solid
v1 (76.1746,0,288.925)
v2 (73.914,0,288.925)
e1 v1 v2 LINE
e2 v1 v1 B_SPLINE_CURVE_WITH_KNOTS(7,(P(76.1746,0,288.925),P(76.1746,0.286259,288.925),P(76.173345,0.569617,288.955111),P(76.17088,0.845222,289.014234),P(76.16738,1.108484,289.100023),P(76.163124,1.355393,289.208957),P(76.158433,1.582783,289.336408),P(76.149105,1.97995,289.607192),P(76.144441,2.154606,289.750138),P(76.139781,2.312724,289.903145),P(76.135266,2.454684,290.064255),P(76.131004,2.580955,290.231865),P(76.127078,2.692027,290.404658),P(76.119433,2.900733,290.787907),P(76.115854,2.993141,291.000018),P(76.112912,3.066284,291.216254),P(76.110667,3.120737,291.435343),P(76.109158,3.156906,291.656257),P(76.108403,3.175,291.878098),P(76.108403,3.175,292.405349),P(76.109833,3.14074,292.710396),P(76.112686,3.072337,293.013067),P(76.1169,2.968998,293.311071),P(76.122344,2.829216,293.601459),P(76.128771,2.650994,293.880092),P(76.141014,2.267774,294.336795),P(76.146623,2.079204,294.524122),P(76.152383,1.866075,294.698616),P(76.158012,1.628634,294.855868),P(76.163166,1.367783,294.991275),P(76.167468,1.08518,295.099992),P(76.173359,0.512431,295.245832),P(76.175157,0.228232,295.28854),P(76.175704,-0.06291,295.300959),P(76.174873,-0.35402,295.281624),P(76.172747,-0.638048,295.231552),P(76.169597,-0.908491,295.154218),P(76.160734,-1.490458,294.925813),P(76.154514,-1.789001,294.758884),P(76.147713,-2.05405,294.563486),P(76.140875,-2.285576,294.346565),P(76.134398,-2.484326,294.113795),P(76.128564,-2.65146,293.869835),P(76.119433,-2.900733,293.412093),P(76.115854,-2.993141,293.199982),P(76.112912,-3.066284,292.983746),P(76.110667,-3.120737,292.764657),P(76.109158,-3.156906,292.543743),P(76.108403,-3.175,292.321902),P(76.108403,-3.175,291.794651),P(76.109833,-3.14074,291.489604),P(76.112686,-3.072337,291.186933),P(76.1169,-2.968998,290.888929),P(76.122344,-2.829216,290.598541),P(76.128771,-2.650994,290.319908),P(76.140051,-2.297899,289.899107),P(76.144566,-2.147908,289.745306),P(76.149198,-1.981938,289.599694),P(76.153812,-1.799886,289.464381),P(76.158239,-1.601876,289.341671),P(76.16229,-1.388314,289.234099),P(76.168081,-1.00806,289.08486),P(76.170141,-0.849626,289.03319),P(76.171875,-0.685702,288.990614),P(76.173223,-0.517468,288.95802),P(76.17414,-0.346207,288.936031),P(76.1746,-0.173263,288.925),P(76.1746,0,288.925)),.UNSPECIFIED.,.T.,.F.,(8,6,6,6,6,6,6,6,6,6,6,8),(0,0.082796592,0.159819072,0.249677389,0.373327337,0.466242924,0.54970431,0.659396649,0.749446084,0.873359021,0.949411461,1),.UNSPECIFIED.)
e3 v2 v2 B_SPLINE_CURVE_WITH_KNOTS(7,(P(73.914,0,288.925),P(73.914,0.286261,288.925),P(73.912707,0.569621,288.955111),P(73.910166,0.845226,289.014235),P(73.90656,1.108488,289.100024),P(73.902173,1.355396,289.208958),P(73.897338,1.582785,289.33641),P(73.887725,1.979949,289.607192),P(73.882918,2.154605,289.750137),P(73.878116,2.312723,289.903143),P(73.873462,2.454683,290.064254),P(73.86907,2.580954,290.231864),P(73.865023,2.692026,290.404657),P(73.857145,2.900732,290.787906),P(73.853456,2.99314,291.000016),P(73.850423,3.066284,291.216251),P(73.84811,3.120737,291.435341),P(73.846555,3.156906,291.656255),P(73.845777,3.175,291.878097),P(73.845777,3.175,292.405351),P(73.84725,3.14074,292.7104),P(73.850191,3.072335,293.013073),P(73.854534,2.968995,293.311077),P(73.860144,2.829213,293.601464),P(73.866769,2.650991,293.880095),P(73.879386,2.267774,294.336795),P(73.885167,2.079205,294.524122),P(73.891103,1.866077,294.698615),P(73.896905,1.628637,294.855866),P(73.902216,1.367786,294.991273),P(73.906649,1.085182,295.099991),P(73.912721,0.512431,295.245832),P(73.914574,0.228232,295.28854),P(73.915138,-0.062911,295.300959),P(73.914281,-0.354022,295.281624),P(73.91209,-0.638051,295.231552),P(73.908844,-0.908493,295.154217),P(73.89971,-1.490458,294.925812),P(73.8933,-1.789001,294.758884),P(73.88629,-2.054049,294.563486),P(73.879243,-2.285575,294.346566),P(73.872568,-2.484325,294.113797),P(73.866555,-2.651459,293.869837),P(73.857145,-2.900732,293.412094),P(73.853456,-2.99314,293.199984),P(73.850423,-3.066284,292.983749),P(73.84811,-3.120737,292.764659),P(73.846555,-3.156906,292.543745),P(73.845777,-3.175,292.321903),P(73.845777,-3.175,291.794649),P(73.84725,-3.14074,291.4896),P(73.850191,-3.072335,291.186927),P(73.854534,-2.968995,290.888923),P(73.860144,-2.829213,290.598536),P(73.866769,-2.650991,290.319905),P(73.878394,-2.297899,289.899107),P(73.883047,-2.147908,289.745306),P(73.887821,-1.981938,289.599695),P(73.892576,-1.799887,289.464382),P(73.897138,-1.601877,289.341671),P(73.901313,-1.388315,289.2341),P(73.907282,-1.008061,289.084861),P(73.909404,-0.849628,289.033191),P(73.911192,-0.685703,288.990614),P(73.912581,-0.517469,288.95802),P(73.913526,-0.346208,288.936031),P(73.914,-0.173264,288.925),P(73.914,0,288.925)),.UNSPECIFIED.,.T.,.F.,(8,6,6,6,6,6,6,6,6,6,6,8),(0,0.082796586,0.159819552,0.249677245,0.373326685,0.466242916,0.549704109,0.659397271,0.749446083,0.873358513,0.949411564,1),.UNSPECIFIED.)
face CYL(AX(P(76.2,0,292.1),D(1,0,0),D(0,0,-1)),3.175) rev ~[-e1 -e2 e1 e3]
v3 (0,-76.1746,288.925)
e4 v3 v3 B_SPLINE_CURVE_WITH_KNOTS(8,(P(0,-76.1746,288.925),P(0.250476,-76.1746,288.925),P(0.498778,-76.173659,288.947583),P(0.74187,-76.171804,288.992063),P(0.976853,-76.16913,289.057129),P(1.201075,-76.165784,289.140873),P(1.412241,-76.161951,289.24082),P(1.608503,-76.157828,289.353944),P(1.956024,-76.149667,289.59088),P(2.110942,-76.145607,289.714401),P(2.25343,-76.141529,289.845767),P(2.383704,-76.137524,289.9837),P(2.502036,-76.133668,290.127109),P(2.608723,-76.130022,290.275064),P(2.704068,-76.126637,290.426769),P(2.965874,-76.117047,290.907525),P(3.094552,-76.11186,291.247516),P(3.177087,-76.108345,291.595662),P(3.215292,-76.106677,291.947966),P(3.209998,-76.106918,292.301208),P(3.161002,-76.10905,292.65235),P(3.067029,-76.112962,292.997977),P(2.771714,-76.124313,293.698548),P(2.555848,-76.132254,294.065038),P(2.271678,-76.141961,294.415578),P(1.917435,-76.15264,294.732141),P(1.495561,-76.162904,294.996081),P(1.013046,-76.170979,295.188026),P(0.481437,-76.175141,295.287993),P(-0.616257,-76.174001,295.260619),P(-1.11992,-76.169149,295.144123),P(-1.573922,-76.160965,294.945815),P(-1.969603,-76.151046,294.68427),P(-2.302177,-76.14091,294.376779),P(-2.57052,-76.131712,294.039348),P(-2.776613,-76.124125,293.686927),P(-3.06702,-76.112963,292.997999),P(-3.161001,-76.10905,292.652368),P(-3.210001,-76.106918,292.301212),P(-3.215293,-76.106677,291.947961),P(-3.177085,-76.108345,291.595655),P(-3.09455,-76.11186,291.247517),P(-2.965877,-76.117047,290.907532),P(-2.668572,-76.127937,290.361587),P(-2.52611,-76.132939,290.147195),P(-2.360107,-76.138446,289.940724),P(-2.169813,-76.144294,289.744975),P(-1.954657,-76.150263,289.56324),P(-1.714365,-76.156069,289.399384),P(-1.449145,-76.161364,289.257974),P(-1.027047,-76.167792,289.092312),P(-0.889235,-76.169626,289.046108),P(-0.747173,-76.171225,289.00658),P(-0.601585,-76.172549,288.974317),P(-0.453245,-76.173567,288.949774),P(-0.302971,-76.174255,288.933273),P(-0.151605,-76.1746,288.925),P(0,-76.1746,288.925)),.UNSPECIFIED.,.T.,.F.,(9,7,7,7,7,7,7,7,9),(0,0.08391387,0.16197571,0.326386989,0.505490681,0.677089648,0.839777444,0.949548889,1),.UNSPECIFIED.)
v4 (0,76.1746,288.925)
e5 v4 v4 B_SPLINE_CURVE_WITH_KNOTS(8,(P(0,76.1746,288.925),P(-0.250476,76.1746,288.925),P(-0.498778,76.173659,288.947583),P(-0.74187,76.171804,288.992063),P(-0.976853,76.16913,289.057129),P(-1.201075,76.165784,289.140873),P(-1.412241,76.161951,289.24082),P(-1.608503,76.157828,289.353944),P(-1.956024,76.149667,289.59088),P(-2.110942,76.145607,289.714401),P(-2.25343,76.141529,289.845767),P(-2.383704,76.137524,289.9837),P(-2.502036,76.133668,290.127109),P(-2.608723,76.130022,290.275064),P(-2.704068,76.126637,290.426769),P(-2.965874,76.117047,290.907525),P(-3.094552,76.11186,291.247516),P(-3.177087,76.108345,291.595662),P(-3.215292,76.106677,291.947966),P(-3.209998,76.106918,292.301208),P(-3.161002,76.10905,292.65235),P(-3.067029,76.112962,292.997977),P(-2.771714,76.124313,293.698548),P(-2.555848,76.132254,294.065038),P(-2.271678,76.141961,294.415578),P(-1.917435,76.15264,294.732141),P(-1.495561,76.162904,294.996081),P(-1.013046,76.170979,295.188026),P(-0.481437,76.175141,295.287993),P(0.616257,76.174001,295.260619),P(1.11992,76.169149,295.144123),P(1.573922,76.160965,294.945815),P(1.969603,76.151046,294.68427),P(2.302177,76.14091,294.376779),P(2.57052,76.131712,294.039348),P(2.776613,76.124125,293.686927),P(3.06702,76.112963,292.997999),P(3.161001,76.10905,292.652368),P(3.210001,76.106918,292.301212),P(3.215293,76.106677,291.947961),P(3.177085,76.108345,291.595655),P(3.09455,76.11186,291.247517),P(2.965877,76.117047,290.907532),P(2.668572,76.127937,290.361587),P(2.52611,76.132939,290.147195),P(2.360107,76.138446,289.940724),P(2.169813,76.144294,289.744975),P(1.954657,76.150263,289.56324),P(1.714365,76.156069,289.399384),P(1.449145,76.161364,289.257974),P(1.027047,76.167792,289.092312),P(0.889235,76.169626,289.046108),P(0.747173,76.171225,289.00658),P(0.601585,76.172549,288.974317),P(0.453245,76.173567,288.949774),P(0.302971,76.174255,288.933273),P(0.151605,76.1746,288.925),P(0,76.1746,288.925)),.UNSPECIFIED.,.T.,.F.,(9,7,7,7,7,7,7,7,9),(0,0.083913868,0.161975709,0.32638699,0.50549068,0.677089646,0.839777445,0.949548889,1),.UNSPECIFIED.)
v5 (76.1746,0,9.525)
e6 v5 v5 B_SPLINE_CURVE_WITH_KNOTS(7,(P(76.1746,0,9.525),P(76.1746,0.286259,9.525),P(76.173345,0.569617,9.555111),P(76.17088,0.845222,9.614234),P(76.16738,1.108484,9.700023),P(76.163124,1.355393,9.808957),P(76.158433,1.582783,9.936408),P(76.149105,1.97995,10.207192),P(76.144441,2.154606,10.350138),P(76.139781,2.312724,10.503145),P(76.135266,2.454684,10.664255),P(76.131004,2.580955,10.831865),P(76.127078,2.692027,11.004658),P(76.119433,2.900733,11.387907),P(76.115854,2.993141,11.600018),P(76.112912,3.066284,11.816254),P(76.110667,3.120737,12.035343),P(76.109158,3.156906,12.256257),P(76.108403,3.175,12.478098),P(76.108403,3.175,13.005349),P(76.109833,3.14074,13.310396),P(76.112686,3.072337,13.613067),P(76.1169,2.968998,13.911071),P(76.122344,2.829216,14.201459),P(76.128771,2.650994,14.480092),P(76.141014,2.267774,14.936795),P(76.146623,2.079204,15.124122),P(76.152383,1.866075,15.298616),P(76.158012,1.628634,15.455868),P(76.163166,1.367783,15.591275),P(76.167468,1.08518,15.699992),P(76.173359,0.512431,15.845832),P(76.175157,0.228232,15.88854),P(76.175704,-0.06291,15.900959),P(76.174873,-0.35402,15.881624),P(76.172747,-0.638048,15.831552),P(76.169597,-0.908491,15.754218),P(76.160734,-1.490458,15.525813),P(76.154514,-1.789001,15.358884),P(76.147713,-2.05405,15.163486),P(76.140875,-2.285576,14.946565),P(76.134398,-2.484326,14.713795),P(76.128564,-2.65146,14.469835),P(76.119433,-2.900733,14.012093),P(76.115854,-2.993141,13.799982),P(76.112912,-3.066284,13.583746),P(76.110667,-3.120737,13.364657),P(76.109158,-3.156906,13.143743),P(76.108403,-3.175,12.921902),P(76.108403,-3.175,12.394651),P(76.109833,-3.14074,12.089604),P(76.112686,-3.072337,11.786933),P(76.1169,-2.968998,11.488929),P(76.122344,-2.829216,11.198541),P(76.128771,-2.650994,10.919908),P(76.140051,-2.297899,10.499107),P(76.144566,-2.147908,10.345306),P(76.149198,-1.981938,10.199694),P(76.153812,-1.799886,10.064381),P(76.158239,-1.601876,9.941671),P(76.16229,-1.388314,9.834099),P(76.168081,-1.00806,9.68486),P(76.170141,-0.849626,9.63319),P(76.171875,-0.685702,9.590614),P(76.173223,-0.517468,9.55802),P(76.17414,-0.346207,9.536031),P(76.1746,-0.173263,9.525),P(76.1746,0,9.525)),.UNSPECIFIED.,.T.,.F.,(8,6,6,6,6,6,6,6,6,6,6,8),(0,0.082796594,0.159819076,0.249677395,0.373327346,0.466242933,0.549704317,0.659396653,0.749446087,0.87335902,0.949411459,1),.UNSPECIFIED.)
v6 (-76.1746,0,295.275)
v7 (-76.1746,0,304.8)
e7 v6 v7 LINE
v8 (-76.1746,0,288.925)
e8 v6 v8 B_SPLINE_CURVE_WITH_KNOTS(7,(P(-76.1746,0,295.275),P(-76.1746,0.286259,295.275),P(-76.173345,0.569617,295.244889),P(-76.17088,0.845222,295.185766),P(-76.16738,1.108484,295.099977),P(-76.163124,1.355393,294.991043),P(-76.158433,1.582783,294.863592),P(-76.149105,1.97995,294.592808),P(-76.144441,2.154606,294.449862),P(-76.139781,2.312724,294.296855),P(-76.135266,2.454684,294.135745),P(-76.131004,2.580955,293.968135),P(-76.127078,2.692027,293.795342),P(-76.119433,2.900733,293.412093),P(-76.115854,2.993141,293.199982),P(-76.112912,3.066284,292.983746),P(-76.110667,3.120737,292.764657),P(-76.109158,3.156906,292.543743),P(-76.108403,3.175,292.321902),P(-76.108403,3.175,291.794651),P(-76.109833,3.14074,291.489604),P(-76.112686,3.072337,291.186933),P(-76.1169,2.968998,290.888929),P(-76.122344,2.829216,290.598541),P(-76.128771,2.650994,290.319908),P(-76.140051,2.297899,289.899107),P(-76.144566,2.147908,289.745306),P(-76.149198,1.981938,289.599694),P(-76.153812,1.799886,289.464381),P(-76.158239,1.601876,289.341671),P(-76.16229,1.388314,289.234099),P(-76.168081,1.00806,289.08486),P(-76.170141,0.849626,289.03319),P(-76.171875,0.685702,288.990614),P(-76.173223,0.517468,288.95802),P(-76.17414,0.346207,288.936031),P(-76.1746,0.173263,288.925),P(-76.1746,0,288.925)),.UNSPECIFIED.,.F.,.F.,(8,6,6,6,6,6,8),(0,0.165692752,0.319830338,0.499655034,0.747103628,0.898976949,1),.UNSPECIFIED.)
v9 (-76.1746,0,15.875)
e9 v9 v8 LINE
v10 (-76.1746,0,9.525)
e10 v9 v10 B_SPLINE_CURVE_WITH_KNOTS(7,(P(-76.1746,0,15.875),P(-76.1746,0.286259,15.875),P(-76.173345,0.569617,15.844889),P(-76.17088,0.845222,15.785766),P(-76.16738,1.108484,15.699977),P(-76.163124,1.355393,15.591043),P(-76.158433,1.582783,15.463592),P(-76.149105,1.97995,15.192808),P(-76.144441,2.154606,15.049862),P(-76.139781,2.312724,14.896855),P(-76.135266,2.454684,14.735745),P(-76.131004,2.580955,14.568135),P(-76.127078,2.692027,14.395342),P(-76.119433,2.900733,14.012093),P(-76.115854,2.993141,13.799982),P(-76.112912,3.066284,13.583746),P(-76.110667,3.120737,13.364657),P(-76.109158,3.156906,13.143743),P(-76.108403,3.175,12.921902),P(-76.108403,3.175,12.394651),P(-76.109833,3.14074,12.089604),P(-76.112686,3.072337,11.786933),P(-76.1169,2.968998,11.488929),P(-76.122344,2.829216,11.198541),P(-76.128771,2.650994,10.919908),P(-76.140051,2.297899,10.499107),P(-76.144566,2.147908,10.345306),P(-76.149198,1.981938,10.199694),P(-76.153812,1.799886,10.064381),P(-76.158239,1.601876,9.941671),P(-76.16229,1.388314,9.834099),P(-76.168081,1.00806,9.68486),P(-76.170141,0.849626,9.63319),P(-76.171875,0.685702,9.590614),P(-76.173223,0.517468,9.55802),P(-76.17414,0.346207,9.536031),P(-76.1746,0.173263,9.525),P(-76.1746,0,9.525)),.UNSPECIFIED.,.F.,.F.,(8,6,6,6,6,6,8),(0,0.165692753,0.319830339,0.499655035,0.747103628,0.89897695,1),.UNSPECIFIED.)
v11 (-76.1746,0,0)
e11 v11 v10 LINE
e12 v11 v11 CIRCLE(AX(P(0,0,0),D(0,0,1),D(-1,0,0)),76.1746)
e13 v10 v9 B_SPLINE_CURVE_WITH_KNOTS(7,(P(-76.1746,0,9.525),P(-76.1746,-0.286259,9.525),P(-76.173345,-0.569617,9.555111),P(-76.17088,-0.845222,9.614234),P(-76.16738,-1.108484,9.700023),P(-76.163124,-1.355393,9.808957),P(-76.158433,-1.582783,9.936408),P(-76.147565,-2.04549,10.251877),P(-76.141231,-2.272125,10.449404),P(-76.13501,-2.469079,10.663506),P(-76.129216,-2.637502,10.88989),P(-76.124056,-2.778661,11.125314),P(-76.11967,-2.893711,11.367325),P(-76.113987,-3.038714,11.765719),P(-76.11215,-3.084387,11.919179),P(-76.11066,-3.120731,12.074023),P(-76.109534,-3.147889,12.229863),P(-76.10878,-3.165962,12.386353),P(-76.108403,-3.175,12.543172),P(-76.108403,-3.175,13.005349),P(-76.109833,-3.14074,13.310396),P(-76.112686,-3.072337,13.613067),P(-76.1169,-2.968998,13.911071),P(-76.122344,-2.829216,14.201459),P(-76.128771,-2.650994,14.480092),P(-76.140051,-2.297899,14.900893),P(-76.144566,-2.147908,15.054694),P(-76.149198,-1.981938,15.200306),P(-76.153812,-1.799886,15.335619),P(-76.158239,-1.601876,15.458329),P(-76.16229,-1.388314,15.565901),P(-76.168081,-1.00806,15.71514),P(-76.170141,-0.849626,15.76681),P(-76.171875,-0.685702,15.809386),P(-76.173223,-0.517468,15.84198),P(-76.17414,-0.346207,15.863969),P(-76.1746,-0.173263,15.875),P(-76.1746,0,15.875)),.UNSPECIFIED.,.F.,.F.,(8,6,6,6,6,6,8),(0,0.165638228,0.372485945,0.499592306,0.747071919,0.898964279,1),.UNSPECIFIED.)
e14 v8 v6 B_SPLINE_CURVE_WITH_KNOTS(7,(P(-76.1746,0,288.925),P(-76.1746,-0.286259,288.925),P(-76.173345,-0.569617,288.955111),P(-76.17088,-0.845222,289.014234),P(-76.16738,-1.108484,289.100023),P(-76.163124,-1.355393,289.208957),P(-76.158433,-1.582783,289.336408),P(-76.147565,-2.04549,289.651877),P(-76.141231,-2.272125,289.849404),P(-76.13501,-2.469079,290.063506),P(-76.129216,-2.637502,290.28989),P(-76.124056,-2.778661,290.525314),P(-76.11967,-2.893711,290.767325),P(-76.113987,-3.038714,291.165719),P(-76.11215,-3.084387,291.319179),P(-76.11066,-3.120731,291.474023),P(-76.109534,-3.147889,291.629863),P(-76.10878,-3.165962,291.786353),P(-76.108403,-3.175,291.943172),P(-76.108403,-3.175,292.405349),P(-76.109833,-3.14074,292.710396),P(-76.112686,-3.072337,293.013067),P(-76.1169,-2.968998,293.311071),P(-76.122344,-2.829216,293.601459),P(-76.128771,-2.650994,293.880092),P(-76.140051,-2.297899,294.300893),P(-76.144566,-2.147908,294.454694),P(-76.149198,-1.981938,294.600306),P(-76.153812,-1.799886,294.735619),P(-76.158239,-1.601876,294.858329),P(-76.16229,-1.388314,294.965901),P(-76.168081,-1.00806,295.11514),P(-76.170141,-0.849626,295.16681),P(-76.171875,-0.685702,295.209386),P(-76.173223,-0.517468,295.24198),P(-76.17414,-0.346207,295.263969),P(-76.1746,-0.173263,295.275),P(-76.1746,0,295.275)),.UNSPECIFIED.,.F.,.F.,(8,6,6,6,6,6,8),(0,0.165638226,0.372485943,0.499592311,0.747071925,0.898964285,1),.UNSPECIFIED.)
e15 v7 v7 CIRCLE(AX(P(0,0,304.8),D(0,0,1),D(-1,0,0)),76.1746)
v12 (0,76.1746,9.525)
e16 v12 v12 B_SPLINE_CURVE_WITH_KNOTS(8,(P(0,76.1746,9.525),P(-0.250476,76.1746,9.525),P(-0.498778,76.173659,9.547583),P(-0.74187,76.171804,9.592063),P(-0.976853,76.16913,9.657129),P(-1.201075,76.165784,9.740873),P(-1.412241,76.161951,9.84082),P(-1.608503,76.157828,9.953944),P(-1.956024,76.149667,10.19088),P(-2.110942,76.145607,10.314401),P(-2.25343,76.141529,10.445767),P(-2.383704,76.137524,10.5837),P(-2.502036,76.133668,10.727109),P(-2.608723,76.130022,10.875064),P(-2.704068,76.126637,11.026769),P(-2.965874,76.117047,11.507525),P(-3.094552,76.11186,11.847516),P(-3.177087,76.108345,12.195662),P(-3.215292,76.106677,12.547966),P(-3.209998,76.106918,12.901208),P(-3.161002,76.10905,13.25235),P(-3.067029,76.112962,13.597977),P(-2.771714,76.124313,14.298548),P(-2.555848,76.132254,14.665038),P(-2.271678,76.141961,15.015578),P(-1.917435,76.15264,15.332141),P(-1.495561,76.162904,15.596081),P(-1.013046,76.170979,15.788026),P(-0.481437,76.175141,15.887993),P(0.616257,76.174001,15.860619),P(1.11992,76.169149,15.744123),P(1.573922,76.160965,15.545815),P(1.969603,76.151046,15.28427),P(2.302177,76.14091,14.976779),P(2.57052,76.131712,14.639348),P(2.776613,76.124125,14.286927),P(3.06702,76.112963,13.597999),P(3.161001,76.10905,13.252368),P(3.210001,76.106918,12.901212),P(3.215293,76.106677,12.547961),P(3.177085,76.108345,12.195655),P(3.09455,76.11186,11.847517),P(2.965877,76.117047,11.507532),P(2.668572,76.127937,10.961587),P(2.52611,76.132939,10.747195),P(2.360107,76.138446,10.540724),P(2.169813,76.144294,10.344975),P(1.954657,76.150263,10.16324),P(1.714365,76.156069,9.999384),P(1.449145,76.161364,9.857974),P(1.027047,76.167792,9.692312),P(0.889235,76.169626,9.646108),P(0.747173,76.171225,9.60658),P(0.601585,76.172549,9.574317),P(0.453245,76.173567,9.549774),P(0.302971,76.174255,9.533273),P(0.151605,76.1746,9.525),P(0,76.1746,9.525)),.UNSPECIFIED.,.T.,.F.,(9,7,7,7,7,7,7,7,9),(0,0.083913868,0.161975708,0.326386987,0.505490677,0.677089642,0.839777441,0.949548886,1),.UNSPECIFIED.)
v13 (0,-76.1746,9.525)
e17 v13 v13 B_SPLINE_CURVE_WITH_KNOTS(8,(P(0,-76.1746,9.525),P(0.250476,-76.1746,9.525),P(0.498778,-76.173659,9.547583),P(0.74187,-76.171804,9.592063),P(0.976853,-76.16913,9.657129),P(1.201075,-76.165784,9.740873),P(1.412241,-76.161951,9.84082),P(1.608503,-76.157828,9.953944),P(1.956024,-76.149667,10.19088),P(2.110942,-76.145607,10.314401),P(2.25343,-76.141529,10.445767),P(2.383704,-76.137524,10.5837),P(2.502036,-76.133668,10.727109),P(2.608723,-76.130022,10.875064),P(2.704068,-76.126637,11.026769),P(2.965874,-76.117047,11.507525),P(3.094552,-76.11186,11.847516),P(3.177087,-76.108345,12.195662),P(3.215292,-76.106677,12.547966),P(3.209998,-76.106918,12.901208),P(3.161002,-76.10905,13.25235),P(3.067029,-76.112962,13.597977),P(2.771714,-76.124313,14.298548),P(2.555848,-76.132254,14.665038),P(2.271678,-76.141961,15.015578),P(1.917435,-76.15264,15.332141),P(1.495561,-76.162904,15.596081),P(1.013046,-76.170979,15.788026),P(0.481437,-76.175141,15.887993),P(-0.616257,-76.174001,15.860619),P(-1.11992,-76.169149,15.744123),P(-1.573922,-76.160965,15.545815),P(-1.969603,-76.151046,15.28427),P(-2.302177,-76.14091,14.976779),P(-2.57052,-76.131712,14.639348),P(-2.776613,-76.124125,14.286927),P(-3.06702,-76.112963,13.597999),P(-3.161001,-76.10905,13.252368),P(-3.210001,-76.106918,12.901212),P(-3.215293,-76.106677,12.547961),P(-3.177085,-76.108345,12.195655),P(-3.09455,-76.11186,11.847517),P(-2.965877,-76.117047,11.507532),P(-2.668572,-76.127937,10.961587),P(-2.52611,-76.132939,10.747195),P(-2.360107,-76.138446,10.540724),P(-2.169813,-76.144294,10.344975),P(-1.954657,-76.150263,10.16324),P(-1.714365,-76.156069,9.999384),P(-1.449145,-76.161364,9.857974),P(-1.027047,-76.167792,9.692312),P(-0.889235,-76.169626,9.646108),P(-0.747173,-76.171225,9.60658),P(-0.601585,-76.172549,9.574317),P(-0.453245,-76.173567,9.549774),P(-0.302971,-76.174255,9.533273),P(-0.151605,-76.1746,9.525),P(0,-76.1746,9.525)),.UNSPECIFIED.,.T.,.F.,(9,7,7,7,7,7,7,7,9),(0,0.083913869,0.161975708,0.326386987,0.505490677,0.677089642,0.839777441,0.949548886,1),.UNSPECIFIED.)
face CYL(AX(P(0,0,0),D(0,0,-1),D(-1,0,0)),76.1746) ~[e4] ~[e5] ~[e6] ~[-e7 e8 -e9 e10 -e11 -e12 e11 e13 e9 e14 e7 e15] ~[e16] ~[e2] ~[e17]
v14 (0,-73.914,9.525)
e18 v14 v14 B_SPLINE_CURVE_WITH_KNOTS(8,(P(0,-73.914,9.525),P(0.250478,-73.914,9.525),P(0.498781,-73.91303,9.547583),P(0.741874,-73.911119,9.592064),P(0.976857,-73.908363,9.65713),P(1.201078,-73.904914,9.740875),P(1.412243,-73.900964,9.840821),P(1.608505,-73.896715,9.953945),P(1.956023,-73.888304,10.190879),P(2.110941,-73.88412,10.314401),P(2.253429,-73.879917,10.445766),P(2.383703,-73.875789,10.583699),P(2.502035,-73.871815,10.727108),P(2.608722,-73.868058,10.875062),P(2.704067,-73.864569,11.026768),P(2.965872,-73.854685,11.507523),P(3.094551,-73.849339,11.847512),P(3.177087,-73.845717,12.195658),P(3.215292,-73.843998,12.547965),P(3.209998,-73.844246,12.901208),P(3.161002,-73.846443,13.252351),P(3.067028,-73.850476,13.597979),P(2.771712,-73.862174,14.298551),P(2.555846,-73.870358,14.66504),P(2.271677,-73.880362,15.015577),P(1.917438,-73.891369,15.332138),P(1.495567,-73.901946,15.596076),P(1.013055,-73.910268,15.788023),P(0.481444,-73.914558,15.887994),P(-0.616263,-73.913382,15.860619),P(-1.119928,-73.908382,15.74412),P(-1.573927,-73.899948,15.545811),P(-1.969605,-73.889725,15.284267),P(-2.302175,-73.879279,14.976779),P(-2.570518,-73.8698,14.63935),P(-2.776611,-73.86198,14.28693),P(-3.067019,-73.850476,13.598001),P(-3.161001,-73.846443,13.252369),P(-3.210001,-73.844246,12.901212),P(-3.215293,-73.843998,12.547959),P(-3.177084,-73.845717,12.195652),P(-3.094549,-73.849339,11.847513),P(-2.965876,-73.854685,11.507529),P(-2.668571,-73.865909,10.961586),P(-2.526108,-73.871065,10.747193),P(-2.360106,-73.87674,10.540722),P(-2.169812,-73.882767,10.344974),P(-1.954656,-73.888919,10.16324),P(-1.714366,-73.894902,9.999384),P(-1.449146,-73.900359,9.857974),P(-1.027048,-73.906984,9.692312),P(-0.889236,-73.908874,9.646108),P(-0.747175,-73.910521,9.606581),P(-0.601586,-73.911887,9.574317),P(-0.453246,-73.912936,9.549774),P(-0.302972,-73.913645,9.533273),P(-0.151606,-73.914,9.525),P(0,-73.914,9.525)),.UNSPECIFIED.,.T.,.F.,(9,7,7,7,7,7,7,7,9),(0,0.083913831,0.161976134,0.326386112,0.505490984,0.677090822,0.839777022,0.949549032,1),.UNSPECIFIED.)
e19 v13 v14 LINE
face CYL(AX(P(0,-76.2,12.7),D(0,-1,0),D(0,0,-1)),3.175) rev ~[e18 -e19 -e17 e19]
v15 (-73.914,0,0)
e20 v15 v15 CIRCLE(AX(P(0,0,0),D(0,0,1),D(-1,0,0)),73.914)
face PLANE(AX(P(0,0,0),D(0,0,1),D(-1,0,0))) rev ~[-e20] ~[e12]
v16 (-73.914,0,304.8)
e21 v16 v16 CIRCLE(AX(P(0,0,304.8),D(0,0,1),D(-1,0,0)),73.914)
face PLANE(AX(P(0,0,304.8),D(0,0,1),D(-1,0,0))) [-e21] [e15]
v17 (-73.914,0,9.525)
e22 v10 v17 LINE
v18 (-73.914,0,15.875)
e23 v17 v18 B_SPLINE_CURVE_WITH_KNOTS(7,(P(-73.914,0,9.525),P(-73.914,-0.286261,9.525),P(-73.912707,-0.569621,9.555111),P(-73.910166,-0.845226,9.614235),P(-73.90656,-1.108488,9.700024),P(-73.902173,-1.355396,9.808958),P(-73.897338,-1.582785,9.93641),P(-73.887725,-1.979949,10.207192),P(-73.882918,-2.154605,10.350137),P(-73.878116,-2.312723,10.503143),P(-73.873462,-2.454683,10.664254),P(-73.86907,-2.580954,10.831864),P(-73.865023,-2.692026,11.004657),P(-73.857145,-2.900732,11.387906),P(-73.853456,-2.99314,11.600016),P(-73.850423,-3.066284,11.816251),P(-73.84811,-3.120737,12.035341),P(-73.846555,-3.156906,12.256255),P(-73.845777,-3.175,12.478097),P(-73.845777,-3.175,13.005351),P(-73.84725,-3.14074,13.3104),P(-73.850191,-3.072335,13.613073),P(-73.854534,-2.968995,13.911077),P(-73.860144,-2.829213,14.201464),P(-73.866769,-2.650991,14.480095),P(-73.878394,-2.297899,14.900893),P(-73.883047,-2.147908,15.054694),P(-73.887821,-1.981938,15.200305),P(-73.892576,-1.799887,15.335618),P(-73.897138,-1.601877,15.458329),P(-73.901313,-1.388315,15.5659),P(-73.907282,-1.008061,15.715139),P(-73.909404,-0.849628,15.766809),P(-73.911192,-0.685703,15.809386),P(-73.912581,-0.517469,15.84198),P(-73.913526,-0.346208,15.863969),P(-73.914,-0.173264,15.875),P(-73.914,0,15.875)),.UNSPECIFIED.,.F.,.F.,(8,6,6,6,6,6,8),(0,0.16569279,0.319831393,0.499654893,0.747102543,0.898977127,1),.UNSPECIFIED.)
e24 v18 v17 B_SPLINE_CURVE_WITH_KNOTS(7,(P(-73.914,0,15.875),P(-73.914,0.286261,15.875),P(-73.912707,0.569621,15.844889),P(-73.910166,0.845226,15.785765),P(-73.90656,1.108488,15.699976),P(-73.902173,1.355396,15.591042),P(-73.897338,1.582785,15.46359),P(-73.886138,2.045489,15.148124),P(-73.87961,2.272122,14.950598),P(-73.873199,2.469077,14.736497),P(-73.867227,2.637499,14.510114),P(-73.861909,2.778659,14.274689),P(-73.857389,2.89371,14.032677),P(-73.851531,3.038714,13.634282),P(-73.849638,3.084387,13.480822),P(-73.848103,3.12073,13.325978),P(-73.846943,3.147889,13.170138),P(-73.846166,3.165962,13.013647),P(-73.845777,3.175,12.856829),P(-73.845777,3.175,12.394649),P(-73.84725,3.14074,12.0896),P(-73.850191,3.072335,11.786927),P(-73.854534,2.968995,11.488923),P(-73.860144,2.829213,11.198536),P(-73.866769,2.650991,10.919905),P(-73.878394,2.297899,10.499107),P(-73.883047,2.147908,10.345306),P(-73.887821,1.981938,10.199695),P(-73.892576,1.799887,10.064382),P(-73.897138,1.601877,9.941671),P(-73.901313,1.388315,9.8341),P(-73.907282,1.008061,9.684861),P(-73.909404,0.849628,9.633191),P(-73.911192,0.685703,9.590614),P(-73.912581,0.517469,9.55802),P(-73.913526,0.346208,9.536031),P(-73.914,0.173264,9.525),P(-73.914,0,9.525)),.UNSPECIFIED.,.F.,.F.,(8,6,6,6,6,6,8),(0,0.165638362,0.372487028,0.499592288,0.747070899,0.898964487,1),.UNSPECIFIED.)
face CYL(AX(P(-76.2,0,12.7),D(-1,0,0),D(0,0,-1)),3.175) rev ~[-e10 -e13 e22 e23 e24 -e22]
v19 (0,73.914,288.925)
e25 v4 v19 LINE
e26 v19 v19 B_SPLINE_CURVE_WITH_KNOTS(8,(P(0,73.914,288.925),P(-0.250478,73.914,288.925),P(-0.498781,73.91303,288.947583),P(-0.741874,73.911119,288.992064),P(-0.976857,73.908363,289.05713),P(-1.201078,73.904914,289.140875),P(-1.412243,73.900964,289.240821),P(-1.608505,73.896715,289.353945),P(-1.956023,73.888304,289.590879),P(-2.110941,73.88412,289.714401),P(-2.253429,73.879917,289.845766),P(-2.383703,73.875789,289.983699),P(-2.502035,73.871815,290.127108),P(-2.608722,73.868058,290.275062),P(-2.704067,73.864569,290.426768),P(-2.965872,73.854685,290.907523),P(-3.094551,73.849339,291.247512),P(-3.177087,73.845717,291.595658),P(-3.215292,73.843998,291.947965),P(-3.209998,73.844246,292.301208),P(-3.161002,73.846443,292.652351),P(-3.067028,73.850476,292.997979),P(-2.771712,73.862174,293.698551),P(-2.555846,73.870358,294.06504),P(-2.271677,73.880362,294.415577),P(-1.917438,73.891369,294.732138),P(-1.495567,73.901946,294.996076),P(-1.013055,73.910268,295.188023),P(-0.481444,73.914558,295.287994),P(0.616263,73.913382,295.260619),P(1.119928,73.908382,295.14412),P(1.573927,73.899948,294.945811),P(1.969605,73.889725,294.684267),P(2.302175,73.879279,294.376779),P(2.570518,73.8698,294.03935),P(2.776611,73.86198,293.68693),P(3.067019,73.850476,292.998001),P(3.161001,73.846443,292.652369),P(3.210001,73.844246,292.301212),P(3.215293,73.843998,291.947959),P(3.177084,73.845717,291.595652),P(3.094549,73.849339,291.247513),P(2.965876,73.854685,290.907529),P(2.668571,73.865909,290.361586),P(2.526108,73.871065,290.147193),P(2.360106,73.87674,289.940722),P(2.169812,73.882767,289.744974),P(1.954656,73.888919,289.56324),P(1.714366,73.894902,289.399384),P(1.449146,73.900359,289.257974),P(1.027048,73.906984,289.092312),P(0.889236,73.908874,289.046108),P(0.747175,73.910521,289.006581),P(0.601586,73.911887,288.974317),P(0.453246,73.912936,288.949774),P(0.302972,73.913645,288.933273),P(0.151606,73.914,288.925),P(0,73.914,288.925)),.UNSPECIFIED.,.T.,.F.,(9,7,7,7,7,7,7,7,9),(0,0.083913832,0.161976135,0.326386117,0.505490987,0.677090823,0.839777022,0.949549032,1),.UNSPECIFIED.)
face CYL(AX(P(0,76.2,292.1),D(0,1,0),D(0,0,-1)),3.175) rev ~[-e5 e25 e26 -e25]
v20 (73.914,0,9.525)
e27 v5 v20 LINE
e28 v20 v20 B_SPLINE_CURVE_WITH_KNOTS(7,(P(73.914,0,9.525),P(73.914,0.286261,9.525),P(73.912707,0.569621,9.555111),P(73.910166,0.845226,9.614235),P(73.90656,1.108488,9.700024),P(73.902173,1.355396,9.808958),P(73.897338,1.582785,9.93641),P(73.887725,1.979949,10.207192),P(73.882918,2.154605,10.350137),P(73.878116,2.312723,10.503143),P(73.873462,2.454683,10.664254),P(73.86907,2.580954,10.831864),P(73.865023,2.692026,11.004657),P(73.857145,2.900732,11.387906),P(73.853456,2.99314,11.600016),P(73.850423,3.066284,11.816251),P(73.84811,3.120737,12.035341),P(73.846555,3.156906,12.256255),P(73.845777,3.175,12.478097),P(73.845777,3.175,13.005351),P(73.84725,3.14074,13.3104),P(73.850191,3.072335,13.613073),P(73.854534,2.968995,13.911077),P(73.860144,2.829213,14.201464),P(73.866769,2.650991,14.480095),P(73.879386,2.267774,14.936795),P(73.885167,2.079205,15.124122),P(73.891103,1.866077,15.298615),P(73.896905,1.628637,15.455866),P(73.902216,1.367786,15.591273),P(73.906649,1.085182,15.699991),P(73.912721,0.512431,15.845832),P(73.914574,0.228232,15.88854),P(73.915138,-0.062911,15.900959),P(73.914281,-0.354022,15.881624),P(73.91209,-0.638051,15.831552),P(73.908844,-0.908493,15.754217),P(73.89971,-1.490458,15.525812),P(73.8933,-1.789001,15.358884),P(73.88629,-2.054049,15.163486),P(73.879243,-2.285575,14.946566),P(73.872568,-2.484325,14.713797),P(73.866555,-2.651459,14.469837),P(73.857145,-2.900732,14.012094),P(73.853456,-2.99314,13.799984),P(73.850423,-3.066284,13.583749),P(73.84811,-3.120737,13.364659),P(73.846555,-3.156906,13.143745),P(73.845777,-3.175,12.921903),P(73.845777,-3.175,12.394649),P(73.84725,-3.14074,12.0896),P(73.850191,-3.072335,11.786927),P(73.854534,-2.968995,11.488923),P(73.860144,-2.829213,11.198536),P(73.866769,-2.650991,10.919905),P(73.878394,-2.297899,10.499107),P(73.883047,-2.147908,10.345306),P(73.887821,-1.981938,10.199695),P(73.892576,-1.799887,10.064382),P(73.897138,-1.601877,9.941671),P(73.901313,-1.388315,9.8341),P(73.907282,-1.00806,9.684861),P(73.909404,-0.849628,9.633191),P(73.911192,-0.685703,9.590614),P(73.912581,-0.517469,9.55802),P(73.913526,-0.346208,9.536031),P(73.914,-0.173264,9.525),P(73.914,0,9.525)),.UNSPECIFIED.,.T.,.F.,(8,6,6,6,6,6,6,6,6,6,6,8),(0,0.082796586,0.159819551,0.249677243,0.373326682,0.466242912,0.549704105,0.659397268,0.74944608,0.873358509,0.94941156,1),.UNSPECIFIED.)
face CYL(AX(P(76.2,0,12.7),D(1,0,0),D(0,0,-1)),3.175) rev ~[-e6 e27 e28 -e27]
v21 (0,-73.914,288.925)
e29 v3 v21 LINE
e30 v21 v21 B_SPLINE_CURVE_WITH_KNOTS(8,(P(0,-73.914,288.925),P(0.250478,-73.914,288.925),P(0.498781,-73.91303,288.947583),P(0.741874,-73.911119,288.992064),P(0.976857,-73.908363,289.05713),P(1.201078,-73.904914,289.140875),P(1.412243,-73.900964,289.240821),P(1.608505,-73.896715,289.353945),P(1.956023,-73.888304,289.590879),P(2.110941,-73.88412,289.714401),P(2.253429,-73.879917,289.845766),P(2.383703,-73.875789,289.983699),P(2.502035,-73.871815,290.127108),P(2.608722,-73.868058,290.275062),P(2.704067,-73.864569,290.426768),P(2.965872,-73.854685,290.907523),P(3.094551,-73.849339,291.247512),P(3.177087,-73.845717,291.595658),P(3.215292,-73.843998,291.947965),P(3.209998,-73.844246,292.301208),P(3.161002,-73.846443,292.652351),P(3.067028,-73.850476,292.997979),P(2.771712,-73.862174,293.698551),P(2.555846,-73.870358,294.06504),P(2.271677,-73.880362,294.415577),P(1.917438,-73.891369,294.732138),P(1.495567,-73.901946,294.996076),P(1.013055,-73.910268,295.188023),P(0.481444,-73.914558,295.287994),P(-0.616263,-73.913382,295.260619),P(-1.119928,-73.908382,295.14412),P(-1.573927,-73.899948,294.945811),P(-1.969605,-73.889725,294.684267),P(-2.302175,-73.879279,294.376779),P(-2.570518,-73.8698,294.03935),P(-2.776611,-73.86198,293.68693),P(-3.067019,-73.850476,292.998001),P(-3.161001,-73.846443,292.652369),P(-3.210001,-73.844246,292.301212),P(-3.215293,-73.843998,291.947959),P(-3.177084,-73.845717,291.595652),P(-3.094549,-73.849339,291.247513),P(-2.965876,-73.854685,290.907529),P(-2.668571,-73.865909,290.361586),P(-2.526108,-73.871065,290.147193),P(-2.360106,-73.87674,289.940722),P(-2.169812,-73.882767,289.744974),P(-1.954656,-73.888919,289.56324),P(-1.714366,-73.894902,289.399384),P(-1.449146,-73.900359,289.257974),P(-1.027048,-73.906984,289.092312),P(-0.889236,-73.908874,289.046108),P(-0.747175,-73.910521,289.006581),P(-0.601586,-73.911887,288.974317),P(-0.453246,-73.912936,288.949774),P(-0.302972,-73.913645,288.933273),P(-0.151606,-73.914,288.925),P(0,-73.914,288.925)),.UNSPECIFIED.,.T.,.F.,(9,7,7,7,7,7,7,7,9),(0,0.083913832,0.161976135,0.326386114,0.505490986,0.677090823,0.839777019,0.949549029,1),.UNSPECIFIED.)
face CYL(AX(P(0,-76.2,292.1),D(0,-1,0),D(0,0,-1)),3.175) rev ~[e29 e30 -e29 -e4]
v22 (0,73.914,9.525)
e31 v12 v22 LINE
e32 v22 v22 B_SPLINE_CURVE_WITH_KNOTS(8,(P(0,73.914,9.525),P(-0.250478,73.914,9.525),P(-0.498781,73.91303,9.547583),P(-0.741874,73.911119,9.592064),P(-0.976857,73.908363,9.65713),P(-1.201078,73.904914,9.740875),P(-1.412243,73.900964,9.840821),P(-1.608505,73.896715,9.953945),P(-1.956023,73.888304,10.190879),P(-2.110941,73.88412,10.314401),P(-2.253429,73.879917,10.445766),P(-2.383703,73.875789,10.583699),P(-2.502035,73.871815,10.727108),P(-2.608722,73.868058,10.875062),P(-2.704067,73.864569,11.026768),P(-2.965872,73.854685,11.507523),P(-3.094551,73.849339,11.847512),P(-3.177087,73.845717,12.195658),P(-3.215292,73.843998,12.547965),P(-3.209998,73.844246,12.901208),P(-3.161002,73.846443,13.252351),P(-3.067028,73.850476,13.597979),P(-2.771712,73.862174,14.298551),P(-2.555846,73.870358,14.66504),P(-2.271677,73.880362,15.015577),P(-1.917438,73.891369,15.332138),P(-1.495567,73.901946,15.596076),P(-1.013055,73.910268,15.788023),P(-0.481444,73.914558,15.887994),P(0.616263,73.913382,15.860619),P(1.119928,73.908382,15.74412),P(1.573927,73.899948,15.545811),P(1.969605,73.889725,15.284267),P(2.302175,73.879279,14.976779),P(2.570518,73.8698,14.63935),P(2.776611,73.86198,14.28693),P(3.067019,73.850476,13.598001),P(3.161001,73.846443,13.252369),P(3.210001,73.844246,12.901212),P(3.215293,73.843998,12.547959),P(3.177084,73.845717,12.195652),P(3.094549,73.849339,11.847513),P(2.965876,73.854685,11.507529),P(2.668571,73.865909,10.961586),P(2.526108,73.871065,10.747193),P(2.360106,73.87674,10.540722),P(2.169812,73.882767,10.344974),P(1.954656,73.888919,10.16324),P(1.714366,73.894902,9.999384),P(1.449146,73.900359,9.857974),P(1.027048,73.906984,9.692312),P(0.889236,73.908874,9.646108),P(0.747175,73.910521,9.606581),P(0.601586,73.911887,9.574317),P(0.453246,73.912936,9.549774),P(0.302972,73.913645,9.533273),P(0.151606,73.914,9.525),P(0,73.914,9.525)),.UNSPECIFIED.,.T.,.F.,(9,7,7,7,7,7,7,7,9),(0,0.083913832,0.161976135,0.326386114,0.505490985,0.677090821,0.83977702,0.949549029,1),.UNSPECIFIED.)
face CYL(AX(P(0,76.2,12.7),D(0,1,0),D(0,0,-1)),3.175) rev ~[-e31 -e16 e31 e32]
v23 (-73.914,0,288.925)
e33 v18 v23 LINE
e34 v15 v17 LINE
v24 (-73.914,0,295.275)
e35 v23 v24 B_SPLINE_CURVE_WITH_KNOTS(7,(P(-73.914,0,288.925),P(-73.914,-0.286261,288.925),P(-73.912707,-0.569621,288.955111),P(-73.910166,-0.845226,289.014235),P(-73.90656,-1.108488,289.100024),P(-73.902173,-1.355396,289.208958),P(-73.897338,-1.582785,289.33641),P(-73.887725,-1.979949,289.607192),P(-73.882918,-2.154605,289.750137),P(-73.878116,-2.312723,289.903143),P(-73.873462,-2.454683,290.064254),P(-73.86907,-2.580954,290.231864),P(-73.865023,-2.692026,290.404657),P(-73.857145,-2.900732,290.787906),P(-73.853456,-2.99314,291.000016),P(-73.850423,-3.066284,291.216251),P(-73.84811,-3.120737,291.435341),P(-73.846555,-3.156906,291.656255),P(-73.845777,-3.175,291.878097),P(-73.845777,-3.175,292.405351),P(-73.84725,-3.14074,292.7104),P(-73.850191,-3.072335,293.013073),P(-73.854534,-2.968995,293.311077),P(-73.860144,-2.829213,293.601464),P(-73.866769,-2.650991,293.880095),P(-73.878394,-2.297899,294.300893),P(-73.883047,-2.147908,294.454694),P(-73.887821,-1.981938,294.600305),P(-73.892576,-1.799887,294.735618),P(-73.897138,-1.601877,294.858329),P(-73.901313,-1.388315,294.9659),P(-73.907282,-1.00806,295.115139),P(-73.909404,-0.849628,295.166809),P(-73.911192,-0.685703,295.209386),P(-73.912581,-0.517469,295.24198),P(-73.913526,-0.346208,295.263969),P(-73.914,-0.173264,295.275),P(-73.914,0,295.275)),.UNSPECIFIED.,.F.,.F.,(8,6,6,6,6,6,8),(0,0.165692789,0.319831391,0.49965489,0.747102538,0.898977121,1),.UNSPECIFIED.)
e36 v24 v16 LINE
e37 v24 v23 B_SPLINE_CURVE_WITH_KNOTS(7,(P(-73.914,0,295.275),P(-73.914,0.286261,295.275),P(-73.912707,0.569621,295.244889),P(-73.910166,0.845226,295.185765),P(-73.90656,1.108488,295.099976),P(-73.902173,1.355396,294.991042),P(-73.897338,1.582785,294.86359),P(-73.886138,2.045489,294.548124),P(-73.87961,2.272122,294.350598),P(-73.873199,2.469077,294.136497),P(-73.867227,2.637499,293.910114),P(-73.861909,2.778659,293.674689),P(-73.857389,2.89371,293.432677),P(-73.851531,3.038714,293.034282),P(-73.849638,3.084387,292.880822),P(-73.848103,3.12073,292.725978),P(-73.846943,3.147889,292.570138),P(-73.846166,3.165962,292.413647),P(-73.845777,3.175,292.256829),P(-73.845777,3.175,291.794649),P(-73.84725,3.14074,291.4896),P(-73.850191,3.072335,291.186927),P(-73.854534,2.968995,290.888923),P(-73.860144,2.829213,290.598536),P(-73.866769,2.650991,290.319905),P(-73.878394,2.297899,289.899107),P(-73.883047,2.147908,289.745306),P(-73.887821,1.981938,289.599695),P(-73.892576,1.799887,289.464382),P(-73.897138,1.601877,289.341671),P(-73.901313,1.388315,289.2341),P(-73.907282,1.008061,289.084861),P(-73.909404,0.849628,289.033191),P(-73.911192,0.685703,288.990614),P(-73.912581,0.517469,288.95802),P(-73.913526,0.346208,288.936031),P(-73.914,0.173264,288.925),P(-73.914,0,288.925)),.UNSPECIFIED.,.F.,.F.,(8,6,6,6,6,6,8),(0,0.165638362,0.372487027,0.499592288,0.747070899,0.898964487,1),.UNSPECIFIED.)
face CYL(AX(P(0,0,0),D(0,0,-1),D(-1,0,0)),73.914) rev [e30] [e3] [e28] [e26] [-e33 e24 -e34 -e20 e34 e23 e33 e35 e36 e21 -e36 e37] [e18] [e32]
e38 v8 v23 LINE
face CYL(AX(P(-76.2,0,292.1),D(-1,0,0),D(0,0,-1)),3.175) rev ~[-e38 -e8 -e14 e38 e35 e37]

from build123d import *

# Parameters (mm, degrees)
SKETCH1_R           = 76.1746
SKETCH1_R_2         = 73.914
BOSS_EXTRUDE1_DEPTH = 304.8
SKETCH2_R           = 3.175
CUT_EXTRUDE1_DEPTH  = 25.4
CIRPATTERN1_COUNT   = 4


with BuildPart() as part:
    # Sketch1 → Boss-Extrude1 (new body)
    with BuildSketch(Plane.XY):
        with Locations(Location((0, 0, 0), (0, 0, 180))):
            Circle(SKETCH1_R)
        with Locations(Location((0, 0, 0), (0, 0, 180))):
            Circle(SKETCH1_R_2, mode=Mode.SUBTRACT)
    extrude(amount=BOSS_EXTRUDE1_DEPTH)

    # Sketch2 → Cut-Extrude1 (cut)
    with BuildSketch(Plane(origin=(76.2, 0, 0), x_dir=(0, 0, -1), z_dir=(1, 0, 0))):
        with Locations((-292.1, 0)):
            Circle(SKETCH2_R)
        with Locations((-12.7, 0)):
            Circle(SKETCH2_R)
    cut_extrude1 = extrude(amount=-CUT_EXTRUDE1_DEPTH, mode=Mode.SUBTRACT)

    # CirPattern1: Cut-Extrude1 ×4 about axis
    cirpattern1_axis = Axis((0, 0, 304.8), (0, 0, -1))
    for i in range(1, CIRPATTERN1_COUNT):
        add(cut_extrude1.rotate(cirpattern1_axis, i * 360 / CIRPATTERN1_COUNT), mode=Mode.SUBTRACT)


solid = part.part
